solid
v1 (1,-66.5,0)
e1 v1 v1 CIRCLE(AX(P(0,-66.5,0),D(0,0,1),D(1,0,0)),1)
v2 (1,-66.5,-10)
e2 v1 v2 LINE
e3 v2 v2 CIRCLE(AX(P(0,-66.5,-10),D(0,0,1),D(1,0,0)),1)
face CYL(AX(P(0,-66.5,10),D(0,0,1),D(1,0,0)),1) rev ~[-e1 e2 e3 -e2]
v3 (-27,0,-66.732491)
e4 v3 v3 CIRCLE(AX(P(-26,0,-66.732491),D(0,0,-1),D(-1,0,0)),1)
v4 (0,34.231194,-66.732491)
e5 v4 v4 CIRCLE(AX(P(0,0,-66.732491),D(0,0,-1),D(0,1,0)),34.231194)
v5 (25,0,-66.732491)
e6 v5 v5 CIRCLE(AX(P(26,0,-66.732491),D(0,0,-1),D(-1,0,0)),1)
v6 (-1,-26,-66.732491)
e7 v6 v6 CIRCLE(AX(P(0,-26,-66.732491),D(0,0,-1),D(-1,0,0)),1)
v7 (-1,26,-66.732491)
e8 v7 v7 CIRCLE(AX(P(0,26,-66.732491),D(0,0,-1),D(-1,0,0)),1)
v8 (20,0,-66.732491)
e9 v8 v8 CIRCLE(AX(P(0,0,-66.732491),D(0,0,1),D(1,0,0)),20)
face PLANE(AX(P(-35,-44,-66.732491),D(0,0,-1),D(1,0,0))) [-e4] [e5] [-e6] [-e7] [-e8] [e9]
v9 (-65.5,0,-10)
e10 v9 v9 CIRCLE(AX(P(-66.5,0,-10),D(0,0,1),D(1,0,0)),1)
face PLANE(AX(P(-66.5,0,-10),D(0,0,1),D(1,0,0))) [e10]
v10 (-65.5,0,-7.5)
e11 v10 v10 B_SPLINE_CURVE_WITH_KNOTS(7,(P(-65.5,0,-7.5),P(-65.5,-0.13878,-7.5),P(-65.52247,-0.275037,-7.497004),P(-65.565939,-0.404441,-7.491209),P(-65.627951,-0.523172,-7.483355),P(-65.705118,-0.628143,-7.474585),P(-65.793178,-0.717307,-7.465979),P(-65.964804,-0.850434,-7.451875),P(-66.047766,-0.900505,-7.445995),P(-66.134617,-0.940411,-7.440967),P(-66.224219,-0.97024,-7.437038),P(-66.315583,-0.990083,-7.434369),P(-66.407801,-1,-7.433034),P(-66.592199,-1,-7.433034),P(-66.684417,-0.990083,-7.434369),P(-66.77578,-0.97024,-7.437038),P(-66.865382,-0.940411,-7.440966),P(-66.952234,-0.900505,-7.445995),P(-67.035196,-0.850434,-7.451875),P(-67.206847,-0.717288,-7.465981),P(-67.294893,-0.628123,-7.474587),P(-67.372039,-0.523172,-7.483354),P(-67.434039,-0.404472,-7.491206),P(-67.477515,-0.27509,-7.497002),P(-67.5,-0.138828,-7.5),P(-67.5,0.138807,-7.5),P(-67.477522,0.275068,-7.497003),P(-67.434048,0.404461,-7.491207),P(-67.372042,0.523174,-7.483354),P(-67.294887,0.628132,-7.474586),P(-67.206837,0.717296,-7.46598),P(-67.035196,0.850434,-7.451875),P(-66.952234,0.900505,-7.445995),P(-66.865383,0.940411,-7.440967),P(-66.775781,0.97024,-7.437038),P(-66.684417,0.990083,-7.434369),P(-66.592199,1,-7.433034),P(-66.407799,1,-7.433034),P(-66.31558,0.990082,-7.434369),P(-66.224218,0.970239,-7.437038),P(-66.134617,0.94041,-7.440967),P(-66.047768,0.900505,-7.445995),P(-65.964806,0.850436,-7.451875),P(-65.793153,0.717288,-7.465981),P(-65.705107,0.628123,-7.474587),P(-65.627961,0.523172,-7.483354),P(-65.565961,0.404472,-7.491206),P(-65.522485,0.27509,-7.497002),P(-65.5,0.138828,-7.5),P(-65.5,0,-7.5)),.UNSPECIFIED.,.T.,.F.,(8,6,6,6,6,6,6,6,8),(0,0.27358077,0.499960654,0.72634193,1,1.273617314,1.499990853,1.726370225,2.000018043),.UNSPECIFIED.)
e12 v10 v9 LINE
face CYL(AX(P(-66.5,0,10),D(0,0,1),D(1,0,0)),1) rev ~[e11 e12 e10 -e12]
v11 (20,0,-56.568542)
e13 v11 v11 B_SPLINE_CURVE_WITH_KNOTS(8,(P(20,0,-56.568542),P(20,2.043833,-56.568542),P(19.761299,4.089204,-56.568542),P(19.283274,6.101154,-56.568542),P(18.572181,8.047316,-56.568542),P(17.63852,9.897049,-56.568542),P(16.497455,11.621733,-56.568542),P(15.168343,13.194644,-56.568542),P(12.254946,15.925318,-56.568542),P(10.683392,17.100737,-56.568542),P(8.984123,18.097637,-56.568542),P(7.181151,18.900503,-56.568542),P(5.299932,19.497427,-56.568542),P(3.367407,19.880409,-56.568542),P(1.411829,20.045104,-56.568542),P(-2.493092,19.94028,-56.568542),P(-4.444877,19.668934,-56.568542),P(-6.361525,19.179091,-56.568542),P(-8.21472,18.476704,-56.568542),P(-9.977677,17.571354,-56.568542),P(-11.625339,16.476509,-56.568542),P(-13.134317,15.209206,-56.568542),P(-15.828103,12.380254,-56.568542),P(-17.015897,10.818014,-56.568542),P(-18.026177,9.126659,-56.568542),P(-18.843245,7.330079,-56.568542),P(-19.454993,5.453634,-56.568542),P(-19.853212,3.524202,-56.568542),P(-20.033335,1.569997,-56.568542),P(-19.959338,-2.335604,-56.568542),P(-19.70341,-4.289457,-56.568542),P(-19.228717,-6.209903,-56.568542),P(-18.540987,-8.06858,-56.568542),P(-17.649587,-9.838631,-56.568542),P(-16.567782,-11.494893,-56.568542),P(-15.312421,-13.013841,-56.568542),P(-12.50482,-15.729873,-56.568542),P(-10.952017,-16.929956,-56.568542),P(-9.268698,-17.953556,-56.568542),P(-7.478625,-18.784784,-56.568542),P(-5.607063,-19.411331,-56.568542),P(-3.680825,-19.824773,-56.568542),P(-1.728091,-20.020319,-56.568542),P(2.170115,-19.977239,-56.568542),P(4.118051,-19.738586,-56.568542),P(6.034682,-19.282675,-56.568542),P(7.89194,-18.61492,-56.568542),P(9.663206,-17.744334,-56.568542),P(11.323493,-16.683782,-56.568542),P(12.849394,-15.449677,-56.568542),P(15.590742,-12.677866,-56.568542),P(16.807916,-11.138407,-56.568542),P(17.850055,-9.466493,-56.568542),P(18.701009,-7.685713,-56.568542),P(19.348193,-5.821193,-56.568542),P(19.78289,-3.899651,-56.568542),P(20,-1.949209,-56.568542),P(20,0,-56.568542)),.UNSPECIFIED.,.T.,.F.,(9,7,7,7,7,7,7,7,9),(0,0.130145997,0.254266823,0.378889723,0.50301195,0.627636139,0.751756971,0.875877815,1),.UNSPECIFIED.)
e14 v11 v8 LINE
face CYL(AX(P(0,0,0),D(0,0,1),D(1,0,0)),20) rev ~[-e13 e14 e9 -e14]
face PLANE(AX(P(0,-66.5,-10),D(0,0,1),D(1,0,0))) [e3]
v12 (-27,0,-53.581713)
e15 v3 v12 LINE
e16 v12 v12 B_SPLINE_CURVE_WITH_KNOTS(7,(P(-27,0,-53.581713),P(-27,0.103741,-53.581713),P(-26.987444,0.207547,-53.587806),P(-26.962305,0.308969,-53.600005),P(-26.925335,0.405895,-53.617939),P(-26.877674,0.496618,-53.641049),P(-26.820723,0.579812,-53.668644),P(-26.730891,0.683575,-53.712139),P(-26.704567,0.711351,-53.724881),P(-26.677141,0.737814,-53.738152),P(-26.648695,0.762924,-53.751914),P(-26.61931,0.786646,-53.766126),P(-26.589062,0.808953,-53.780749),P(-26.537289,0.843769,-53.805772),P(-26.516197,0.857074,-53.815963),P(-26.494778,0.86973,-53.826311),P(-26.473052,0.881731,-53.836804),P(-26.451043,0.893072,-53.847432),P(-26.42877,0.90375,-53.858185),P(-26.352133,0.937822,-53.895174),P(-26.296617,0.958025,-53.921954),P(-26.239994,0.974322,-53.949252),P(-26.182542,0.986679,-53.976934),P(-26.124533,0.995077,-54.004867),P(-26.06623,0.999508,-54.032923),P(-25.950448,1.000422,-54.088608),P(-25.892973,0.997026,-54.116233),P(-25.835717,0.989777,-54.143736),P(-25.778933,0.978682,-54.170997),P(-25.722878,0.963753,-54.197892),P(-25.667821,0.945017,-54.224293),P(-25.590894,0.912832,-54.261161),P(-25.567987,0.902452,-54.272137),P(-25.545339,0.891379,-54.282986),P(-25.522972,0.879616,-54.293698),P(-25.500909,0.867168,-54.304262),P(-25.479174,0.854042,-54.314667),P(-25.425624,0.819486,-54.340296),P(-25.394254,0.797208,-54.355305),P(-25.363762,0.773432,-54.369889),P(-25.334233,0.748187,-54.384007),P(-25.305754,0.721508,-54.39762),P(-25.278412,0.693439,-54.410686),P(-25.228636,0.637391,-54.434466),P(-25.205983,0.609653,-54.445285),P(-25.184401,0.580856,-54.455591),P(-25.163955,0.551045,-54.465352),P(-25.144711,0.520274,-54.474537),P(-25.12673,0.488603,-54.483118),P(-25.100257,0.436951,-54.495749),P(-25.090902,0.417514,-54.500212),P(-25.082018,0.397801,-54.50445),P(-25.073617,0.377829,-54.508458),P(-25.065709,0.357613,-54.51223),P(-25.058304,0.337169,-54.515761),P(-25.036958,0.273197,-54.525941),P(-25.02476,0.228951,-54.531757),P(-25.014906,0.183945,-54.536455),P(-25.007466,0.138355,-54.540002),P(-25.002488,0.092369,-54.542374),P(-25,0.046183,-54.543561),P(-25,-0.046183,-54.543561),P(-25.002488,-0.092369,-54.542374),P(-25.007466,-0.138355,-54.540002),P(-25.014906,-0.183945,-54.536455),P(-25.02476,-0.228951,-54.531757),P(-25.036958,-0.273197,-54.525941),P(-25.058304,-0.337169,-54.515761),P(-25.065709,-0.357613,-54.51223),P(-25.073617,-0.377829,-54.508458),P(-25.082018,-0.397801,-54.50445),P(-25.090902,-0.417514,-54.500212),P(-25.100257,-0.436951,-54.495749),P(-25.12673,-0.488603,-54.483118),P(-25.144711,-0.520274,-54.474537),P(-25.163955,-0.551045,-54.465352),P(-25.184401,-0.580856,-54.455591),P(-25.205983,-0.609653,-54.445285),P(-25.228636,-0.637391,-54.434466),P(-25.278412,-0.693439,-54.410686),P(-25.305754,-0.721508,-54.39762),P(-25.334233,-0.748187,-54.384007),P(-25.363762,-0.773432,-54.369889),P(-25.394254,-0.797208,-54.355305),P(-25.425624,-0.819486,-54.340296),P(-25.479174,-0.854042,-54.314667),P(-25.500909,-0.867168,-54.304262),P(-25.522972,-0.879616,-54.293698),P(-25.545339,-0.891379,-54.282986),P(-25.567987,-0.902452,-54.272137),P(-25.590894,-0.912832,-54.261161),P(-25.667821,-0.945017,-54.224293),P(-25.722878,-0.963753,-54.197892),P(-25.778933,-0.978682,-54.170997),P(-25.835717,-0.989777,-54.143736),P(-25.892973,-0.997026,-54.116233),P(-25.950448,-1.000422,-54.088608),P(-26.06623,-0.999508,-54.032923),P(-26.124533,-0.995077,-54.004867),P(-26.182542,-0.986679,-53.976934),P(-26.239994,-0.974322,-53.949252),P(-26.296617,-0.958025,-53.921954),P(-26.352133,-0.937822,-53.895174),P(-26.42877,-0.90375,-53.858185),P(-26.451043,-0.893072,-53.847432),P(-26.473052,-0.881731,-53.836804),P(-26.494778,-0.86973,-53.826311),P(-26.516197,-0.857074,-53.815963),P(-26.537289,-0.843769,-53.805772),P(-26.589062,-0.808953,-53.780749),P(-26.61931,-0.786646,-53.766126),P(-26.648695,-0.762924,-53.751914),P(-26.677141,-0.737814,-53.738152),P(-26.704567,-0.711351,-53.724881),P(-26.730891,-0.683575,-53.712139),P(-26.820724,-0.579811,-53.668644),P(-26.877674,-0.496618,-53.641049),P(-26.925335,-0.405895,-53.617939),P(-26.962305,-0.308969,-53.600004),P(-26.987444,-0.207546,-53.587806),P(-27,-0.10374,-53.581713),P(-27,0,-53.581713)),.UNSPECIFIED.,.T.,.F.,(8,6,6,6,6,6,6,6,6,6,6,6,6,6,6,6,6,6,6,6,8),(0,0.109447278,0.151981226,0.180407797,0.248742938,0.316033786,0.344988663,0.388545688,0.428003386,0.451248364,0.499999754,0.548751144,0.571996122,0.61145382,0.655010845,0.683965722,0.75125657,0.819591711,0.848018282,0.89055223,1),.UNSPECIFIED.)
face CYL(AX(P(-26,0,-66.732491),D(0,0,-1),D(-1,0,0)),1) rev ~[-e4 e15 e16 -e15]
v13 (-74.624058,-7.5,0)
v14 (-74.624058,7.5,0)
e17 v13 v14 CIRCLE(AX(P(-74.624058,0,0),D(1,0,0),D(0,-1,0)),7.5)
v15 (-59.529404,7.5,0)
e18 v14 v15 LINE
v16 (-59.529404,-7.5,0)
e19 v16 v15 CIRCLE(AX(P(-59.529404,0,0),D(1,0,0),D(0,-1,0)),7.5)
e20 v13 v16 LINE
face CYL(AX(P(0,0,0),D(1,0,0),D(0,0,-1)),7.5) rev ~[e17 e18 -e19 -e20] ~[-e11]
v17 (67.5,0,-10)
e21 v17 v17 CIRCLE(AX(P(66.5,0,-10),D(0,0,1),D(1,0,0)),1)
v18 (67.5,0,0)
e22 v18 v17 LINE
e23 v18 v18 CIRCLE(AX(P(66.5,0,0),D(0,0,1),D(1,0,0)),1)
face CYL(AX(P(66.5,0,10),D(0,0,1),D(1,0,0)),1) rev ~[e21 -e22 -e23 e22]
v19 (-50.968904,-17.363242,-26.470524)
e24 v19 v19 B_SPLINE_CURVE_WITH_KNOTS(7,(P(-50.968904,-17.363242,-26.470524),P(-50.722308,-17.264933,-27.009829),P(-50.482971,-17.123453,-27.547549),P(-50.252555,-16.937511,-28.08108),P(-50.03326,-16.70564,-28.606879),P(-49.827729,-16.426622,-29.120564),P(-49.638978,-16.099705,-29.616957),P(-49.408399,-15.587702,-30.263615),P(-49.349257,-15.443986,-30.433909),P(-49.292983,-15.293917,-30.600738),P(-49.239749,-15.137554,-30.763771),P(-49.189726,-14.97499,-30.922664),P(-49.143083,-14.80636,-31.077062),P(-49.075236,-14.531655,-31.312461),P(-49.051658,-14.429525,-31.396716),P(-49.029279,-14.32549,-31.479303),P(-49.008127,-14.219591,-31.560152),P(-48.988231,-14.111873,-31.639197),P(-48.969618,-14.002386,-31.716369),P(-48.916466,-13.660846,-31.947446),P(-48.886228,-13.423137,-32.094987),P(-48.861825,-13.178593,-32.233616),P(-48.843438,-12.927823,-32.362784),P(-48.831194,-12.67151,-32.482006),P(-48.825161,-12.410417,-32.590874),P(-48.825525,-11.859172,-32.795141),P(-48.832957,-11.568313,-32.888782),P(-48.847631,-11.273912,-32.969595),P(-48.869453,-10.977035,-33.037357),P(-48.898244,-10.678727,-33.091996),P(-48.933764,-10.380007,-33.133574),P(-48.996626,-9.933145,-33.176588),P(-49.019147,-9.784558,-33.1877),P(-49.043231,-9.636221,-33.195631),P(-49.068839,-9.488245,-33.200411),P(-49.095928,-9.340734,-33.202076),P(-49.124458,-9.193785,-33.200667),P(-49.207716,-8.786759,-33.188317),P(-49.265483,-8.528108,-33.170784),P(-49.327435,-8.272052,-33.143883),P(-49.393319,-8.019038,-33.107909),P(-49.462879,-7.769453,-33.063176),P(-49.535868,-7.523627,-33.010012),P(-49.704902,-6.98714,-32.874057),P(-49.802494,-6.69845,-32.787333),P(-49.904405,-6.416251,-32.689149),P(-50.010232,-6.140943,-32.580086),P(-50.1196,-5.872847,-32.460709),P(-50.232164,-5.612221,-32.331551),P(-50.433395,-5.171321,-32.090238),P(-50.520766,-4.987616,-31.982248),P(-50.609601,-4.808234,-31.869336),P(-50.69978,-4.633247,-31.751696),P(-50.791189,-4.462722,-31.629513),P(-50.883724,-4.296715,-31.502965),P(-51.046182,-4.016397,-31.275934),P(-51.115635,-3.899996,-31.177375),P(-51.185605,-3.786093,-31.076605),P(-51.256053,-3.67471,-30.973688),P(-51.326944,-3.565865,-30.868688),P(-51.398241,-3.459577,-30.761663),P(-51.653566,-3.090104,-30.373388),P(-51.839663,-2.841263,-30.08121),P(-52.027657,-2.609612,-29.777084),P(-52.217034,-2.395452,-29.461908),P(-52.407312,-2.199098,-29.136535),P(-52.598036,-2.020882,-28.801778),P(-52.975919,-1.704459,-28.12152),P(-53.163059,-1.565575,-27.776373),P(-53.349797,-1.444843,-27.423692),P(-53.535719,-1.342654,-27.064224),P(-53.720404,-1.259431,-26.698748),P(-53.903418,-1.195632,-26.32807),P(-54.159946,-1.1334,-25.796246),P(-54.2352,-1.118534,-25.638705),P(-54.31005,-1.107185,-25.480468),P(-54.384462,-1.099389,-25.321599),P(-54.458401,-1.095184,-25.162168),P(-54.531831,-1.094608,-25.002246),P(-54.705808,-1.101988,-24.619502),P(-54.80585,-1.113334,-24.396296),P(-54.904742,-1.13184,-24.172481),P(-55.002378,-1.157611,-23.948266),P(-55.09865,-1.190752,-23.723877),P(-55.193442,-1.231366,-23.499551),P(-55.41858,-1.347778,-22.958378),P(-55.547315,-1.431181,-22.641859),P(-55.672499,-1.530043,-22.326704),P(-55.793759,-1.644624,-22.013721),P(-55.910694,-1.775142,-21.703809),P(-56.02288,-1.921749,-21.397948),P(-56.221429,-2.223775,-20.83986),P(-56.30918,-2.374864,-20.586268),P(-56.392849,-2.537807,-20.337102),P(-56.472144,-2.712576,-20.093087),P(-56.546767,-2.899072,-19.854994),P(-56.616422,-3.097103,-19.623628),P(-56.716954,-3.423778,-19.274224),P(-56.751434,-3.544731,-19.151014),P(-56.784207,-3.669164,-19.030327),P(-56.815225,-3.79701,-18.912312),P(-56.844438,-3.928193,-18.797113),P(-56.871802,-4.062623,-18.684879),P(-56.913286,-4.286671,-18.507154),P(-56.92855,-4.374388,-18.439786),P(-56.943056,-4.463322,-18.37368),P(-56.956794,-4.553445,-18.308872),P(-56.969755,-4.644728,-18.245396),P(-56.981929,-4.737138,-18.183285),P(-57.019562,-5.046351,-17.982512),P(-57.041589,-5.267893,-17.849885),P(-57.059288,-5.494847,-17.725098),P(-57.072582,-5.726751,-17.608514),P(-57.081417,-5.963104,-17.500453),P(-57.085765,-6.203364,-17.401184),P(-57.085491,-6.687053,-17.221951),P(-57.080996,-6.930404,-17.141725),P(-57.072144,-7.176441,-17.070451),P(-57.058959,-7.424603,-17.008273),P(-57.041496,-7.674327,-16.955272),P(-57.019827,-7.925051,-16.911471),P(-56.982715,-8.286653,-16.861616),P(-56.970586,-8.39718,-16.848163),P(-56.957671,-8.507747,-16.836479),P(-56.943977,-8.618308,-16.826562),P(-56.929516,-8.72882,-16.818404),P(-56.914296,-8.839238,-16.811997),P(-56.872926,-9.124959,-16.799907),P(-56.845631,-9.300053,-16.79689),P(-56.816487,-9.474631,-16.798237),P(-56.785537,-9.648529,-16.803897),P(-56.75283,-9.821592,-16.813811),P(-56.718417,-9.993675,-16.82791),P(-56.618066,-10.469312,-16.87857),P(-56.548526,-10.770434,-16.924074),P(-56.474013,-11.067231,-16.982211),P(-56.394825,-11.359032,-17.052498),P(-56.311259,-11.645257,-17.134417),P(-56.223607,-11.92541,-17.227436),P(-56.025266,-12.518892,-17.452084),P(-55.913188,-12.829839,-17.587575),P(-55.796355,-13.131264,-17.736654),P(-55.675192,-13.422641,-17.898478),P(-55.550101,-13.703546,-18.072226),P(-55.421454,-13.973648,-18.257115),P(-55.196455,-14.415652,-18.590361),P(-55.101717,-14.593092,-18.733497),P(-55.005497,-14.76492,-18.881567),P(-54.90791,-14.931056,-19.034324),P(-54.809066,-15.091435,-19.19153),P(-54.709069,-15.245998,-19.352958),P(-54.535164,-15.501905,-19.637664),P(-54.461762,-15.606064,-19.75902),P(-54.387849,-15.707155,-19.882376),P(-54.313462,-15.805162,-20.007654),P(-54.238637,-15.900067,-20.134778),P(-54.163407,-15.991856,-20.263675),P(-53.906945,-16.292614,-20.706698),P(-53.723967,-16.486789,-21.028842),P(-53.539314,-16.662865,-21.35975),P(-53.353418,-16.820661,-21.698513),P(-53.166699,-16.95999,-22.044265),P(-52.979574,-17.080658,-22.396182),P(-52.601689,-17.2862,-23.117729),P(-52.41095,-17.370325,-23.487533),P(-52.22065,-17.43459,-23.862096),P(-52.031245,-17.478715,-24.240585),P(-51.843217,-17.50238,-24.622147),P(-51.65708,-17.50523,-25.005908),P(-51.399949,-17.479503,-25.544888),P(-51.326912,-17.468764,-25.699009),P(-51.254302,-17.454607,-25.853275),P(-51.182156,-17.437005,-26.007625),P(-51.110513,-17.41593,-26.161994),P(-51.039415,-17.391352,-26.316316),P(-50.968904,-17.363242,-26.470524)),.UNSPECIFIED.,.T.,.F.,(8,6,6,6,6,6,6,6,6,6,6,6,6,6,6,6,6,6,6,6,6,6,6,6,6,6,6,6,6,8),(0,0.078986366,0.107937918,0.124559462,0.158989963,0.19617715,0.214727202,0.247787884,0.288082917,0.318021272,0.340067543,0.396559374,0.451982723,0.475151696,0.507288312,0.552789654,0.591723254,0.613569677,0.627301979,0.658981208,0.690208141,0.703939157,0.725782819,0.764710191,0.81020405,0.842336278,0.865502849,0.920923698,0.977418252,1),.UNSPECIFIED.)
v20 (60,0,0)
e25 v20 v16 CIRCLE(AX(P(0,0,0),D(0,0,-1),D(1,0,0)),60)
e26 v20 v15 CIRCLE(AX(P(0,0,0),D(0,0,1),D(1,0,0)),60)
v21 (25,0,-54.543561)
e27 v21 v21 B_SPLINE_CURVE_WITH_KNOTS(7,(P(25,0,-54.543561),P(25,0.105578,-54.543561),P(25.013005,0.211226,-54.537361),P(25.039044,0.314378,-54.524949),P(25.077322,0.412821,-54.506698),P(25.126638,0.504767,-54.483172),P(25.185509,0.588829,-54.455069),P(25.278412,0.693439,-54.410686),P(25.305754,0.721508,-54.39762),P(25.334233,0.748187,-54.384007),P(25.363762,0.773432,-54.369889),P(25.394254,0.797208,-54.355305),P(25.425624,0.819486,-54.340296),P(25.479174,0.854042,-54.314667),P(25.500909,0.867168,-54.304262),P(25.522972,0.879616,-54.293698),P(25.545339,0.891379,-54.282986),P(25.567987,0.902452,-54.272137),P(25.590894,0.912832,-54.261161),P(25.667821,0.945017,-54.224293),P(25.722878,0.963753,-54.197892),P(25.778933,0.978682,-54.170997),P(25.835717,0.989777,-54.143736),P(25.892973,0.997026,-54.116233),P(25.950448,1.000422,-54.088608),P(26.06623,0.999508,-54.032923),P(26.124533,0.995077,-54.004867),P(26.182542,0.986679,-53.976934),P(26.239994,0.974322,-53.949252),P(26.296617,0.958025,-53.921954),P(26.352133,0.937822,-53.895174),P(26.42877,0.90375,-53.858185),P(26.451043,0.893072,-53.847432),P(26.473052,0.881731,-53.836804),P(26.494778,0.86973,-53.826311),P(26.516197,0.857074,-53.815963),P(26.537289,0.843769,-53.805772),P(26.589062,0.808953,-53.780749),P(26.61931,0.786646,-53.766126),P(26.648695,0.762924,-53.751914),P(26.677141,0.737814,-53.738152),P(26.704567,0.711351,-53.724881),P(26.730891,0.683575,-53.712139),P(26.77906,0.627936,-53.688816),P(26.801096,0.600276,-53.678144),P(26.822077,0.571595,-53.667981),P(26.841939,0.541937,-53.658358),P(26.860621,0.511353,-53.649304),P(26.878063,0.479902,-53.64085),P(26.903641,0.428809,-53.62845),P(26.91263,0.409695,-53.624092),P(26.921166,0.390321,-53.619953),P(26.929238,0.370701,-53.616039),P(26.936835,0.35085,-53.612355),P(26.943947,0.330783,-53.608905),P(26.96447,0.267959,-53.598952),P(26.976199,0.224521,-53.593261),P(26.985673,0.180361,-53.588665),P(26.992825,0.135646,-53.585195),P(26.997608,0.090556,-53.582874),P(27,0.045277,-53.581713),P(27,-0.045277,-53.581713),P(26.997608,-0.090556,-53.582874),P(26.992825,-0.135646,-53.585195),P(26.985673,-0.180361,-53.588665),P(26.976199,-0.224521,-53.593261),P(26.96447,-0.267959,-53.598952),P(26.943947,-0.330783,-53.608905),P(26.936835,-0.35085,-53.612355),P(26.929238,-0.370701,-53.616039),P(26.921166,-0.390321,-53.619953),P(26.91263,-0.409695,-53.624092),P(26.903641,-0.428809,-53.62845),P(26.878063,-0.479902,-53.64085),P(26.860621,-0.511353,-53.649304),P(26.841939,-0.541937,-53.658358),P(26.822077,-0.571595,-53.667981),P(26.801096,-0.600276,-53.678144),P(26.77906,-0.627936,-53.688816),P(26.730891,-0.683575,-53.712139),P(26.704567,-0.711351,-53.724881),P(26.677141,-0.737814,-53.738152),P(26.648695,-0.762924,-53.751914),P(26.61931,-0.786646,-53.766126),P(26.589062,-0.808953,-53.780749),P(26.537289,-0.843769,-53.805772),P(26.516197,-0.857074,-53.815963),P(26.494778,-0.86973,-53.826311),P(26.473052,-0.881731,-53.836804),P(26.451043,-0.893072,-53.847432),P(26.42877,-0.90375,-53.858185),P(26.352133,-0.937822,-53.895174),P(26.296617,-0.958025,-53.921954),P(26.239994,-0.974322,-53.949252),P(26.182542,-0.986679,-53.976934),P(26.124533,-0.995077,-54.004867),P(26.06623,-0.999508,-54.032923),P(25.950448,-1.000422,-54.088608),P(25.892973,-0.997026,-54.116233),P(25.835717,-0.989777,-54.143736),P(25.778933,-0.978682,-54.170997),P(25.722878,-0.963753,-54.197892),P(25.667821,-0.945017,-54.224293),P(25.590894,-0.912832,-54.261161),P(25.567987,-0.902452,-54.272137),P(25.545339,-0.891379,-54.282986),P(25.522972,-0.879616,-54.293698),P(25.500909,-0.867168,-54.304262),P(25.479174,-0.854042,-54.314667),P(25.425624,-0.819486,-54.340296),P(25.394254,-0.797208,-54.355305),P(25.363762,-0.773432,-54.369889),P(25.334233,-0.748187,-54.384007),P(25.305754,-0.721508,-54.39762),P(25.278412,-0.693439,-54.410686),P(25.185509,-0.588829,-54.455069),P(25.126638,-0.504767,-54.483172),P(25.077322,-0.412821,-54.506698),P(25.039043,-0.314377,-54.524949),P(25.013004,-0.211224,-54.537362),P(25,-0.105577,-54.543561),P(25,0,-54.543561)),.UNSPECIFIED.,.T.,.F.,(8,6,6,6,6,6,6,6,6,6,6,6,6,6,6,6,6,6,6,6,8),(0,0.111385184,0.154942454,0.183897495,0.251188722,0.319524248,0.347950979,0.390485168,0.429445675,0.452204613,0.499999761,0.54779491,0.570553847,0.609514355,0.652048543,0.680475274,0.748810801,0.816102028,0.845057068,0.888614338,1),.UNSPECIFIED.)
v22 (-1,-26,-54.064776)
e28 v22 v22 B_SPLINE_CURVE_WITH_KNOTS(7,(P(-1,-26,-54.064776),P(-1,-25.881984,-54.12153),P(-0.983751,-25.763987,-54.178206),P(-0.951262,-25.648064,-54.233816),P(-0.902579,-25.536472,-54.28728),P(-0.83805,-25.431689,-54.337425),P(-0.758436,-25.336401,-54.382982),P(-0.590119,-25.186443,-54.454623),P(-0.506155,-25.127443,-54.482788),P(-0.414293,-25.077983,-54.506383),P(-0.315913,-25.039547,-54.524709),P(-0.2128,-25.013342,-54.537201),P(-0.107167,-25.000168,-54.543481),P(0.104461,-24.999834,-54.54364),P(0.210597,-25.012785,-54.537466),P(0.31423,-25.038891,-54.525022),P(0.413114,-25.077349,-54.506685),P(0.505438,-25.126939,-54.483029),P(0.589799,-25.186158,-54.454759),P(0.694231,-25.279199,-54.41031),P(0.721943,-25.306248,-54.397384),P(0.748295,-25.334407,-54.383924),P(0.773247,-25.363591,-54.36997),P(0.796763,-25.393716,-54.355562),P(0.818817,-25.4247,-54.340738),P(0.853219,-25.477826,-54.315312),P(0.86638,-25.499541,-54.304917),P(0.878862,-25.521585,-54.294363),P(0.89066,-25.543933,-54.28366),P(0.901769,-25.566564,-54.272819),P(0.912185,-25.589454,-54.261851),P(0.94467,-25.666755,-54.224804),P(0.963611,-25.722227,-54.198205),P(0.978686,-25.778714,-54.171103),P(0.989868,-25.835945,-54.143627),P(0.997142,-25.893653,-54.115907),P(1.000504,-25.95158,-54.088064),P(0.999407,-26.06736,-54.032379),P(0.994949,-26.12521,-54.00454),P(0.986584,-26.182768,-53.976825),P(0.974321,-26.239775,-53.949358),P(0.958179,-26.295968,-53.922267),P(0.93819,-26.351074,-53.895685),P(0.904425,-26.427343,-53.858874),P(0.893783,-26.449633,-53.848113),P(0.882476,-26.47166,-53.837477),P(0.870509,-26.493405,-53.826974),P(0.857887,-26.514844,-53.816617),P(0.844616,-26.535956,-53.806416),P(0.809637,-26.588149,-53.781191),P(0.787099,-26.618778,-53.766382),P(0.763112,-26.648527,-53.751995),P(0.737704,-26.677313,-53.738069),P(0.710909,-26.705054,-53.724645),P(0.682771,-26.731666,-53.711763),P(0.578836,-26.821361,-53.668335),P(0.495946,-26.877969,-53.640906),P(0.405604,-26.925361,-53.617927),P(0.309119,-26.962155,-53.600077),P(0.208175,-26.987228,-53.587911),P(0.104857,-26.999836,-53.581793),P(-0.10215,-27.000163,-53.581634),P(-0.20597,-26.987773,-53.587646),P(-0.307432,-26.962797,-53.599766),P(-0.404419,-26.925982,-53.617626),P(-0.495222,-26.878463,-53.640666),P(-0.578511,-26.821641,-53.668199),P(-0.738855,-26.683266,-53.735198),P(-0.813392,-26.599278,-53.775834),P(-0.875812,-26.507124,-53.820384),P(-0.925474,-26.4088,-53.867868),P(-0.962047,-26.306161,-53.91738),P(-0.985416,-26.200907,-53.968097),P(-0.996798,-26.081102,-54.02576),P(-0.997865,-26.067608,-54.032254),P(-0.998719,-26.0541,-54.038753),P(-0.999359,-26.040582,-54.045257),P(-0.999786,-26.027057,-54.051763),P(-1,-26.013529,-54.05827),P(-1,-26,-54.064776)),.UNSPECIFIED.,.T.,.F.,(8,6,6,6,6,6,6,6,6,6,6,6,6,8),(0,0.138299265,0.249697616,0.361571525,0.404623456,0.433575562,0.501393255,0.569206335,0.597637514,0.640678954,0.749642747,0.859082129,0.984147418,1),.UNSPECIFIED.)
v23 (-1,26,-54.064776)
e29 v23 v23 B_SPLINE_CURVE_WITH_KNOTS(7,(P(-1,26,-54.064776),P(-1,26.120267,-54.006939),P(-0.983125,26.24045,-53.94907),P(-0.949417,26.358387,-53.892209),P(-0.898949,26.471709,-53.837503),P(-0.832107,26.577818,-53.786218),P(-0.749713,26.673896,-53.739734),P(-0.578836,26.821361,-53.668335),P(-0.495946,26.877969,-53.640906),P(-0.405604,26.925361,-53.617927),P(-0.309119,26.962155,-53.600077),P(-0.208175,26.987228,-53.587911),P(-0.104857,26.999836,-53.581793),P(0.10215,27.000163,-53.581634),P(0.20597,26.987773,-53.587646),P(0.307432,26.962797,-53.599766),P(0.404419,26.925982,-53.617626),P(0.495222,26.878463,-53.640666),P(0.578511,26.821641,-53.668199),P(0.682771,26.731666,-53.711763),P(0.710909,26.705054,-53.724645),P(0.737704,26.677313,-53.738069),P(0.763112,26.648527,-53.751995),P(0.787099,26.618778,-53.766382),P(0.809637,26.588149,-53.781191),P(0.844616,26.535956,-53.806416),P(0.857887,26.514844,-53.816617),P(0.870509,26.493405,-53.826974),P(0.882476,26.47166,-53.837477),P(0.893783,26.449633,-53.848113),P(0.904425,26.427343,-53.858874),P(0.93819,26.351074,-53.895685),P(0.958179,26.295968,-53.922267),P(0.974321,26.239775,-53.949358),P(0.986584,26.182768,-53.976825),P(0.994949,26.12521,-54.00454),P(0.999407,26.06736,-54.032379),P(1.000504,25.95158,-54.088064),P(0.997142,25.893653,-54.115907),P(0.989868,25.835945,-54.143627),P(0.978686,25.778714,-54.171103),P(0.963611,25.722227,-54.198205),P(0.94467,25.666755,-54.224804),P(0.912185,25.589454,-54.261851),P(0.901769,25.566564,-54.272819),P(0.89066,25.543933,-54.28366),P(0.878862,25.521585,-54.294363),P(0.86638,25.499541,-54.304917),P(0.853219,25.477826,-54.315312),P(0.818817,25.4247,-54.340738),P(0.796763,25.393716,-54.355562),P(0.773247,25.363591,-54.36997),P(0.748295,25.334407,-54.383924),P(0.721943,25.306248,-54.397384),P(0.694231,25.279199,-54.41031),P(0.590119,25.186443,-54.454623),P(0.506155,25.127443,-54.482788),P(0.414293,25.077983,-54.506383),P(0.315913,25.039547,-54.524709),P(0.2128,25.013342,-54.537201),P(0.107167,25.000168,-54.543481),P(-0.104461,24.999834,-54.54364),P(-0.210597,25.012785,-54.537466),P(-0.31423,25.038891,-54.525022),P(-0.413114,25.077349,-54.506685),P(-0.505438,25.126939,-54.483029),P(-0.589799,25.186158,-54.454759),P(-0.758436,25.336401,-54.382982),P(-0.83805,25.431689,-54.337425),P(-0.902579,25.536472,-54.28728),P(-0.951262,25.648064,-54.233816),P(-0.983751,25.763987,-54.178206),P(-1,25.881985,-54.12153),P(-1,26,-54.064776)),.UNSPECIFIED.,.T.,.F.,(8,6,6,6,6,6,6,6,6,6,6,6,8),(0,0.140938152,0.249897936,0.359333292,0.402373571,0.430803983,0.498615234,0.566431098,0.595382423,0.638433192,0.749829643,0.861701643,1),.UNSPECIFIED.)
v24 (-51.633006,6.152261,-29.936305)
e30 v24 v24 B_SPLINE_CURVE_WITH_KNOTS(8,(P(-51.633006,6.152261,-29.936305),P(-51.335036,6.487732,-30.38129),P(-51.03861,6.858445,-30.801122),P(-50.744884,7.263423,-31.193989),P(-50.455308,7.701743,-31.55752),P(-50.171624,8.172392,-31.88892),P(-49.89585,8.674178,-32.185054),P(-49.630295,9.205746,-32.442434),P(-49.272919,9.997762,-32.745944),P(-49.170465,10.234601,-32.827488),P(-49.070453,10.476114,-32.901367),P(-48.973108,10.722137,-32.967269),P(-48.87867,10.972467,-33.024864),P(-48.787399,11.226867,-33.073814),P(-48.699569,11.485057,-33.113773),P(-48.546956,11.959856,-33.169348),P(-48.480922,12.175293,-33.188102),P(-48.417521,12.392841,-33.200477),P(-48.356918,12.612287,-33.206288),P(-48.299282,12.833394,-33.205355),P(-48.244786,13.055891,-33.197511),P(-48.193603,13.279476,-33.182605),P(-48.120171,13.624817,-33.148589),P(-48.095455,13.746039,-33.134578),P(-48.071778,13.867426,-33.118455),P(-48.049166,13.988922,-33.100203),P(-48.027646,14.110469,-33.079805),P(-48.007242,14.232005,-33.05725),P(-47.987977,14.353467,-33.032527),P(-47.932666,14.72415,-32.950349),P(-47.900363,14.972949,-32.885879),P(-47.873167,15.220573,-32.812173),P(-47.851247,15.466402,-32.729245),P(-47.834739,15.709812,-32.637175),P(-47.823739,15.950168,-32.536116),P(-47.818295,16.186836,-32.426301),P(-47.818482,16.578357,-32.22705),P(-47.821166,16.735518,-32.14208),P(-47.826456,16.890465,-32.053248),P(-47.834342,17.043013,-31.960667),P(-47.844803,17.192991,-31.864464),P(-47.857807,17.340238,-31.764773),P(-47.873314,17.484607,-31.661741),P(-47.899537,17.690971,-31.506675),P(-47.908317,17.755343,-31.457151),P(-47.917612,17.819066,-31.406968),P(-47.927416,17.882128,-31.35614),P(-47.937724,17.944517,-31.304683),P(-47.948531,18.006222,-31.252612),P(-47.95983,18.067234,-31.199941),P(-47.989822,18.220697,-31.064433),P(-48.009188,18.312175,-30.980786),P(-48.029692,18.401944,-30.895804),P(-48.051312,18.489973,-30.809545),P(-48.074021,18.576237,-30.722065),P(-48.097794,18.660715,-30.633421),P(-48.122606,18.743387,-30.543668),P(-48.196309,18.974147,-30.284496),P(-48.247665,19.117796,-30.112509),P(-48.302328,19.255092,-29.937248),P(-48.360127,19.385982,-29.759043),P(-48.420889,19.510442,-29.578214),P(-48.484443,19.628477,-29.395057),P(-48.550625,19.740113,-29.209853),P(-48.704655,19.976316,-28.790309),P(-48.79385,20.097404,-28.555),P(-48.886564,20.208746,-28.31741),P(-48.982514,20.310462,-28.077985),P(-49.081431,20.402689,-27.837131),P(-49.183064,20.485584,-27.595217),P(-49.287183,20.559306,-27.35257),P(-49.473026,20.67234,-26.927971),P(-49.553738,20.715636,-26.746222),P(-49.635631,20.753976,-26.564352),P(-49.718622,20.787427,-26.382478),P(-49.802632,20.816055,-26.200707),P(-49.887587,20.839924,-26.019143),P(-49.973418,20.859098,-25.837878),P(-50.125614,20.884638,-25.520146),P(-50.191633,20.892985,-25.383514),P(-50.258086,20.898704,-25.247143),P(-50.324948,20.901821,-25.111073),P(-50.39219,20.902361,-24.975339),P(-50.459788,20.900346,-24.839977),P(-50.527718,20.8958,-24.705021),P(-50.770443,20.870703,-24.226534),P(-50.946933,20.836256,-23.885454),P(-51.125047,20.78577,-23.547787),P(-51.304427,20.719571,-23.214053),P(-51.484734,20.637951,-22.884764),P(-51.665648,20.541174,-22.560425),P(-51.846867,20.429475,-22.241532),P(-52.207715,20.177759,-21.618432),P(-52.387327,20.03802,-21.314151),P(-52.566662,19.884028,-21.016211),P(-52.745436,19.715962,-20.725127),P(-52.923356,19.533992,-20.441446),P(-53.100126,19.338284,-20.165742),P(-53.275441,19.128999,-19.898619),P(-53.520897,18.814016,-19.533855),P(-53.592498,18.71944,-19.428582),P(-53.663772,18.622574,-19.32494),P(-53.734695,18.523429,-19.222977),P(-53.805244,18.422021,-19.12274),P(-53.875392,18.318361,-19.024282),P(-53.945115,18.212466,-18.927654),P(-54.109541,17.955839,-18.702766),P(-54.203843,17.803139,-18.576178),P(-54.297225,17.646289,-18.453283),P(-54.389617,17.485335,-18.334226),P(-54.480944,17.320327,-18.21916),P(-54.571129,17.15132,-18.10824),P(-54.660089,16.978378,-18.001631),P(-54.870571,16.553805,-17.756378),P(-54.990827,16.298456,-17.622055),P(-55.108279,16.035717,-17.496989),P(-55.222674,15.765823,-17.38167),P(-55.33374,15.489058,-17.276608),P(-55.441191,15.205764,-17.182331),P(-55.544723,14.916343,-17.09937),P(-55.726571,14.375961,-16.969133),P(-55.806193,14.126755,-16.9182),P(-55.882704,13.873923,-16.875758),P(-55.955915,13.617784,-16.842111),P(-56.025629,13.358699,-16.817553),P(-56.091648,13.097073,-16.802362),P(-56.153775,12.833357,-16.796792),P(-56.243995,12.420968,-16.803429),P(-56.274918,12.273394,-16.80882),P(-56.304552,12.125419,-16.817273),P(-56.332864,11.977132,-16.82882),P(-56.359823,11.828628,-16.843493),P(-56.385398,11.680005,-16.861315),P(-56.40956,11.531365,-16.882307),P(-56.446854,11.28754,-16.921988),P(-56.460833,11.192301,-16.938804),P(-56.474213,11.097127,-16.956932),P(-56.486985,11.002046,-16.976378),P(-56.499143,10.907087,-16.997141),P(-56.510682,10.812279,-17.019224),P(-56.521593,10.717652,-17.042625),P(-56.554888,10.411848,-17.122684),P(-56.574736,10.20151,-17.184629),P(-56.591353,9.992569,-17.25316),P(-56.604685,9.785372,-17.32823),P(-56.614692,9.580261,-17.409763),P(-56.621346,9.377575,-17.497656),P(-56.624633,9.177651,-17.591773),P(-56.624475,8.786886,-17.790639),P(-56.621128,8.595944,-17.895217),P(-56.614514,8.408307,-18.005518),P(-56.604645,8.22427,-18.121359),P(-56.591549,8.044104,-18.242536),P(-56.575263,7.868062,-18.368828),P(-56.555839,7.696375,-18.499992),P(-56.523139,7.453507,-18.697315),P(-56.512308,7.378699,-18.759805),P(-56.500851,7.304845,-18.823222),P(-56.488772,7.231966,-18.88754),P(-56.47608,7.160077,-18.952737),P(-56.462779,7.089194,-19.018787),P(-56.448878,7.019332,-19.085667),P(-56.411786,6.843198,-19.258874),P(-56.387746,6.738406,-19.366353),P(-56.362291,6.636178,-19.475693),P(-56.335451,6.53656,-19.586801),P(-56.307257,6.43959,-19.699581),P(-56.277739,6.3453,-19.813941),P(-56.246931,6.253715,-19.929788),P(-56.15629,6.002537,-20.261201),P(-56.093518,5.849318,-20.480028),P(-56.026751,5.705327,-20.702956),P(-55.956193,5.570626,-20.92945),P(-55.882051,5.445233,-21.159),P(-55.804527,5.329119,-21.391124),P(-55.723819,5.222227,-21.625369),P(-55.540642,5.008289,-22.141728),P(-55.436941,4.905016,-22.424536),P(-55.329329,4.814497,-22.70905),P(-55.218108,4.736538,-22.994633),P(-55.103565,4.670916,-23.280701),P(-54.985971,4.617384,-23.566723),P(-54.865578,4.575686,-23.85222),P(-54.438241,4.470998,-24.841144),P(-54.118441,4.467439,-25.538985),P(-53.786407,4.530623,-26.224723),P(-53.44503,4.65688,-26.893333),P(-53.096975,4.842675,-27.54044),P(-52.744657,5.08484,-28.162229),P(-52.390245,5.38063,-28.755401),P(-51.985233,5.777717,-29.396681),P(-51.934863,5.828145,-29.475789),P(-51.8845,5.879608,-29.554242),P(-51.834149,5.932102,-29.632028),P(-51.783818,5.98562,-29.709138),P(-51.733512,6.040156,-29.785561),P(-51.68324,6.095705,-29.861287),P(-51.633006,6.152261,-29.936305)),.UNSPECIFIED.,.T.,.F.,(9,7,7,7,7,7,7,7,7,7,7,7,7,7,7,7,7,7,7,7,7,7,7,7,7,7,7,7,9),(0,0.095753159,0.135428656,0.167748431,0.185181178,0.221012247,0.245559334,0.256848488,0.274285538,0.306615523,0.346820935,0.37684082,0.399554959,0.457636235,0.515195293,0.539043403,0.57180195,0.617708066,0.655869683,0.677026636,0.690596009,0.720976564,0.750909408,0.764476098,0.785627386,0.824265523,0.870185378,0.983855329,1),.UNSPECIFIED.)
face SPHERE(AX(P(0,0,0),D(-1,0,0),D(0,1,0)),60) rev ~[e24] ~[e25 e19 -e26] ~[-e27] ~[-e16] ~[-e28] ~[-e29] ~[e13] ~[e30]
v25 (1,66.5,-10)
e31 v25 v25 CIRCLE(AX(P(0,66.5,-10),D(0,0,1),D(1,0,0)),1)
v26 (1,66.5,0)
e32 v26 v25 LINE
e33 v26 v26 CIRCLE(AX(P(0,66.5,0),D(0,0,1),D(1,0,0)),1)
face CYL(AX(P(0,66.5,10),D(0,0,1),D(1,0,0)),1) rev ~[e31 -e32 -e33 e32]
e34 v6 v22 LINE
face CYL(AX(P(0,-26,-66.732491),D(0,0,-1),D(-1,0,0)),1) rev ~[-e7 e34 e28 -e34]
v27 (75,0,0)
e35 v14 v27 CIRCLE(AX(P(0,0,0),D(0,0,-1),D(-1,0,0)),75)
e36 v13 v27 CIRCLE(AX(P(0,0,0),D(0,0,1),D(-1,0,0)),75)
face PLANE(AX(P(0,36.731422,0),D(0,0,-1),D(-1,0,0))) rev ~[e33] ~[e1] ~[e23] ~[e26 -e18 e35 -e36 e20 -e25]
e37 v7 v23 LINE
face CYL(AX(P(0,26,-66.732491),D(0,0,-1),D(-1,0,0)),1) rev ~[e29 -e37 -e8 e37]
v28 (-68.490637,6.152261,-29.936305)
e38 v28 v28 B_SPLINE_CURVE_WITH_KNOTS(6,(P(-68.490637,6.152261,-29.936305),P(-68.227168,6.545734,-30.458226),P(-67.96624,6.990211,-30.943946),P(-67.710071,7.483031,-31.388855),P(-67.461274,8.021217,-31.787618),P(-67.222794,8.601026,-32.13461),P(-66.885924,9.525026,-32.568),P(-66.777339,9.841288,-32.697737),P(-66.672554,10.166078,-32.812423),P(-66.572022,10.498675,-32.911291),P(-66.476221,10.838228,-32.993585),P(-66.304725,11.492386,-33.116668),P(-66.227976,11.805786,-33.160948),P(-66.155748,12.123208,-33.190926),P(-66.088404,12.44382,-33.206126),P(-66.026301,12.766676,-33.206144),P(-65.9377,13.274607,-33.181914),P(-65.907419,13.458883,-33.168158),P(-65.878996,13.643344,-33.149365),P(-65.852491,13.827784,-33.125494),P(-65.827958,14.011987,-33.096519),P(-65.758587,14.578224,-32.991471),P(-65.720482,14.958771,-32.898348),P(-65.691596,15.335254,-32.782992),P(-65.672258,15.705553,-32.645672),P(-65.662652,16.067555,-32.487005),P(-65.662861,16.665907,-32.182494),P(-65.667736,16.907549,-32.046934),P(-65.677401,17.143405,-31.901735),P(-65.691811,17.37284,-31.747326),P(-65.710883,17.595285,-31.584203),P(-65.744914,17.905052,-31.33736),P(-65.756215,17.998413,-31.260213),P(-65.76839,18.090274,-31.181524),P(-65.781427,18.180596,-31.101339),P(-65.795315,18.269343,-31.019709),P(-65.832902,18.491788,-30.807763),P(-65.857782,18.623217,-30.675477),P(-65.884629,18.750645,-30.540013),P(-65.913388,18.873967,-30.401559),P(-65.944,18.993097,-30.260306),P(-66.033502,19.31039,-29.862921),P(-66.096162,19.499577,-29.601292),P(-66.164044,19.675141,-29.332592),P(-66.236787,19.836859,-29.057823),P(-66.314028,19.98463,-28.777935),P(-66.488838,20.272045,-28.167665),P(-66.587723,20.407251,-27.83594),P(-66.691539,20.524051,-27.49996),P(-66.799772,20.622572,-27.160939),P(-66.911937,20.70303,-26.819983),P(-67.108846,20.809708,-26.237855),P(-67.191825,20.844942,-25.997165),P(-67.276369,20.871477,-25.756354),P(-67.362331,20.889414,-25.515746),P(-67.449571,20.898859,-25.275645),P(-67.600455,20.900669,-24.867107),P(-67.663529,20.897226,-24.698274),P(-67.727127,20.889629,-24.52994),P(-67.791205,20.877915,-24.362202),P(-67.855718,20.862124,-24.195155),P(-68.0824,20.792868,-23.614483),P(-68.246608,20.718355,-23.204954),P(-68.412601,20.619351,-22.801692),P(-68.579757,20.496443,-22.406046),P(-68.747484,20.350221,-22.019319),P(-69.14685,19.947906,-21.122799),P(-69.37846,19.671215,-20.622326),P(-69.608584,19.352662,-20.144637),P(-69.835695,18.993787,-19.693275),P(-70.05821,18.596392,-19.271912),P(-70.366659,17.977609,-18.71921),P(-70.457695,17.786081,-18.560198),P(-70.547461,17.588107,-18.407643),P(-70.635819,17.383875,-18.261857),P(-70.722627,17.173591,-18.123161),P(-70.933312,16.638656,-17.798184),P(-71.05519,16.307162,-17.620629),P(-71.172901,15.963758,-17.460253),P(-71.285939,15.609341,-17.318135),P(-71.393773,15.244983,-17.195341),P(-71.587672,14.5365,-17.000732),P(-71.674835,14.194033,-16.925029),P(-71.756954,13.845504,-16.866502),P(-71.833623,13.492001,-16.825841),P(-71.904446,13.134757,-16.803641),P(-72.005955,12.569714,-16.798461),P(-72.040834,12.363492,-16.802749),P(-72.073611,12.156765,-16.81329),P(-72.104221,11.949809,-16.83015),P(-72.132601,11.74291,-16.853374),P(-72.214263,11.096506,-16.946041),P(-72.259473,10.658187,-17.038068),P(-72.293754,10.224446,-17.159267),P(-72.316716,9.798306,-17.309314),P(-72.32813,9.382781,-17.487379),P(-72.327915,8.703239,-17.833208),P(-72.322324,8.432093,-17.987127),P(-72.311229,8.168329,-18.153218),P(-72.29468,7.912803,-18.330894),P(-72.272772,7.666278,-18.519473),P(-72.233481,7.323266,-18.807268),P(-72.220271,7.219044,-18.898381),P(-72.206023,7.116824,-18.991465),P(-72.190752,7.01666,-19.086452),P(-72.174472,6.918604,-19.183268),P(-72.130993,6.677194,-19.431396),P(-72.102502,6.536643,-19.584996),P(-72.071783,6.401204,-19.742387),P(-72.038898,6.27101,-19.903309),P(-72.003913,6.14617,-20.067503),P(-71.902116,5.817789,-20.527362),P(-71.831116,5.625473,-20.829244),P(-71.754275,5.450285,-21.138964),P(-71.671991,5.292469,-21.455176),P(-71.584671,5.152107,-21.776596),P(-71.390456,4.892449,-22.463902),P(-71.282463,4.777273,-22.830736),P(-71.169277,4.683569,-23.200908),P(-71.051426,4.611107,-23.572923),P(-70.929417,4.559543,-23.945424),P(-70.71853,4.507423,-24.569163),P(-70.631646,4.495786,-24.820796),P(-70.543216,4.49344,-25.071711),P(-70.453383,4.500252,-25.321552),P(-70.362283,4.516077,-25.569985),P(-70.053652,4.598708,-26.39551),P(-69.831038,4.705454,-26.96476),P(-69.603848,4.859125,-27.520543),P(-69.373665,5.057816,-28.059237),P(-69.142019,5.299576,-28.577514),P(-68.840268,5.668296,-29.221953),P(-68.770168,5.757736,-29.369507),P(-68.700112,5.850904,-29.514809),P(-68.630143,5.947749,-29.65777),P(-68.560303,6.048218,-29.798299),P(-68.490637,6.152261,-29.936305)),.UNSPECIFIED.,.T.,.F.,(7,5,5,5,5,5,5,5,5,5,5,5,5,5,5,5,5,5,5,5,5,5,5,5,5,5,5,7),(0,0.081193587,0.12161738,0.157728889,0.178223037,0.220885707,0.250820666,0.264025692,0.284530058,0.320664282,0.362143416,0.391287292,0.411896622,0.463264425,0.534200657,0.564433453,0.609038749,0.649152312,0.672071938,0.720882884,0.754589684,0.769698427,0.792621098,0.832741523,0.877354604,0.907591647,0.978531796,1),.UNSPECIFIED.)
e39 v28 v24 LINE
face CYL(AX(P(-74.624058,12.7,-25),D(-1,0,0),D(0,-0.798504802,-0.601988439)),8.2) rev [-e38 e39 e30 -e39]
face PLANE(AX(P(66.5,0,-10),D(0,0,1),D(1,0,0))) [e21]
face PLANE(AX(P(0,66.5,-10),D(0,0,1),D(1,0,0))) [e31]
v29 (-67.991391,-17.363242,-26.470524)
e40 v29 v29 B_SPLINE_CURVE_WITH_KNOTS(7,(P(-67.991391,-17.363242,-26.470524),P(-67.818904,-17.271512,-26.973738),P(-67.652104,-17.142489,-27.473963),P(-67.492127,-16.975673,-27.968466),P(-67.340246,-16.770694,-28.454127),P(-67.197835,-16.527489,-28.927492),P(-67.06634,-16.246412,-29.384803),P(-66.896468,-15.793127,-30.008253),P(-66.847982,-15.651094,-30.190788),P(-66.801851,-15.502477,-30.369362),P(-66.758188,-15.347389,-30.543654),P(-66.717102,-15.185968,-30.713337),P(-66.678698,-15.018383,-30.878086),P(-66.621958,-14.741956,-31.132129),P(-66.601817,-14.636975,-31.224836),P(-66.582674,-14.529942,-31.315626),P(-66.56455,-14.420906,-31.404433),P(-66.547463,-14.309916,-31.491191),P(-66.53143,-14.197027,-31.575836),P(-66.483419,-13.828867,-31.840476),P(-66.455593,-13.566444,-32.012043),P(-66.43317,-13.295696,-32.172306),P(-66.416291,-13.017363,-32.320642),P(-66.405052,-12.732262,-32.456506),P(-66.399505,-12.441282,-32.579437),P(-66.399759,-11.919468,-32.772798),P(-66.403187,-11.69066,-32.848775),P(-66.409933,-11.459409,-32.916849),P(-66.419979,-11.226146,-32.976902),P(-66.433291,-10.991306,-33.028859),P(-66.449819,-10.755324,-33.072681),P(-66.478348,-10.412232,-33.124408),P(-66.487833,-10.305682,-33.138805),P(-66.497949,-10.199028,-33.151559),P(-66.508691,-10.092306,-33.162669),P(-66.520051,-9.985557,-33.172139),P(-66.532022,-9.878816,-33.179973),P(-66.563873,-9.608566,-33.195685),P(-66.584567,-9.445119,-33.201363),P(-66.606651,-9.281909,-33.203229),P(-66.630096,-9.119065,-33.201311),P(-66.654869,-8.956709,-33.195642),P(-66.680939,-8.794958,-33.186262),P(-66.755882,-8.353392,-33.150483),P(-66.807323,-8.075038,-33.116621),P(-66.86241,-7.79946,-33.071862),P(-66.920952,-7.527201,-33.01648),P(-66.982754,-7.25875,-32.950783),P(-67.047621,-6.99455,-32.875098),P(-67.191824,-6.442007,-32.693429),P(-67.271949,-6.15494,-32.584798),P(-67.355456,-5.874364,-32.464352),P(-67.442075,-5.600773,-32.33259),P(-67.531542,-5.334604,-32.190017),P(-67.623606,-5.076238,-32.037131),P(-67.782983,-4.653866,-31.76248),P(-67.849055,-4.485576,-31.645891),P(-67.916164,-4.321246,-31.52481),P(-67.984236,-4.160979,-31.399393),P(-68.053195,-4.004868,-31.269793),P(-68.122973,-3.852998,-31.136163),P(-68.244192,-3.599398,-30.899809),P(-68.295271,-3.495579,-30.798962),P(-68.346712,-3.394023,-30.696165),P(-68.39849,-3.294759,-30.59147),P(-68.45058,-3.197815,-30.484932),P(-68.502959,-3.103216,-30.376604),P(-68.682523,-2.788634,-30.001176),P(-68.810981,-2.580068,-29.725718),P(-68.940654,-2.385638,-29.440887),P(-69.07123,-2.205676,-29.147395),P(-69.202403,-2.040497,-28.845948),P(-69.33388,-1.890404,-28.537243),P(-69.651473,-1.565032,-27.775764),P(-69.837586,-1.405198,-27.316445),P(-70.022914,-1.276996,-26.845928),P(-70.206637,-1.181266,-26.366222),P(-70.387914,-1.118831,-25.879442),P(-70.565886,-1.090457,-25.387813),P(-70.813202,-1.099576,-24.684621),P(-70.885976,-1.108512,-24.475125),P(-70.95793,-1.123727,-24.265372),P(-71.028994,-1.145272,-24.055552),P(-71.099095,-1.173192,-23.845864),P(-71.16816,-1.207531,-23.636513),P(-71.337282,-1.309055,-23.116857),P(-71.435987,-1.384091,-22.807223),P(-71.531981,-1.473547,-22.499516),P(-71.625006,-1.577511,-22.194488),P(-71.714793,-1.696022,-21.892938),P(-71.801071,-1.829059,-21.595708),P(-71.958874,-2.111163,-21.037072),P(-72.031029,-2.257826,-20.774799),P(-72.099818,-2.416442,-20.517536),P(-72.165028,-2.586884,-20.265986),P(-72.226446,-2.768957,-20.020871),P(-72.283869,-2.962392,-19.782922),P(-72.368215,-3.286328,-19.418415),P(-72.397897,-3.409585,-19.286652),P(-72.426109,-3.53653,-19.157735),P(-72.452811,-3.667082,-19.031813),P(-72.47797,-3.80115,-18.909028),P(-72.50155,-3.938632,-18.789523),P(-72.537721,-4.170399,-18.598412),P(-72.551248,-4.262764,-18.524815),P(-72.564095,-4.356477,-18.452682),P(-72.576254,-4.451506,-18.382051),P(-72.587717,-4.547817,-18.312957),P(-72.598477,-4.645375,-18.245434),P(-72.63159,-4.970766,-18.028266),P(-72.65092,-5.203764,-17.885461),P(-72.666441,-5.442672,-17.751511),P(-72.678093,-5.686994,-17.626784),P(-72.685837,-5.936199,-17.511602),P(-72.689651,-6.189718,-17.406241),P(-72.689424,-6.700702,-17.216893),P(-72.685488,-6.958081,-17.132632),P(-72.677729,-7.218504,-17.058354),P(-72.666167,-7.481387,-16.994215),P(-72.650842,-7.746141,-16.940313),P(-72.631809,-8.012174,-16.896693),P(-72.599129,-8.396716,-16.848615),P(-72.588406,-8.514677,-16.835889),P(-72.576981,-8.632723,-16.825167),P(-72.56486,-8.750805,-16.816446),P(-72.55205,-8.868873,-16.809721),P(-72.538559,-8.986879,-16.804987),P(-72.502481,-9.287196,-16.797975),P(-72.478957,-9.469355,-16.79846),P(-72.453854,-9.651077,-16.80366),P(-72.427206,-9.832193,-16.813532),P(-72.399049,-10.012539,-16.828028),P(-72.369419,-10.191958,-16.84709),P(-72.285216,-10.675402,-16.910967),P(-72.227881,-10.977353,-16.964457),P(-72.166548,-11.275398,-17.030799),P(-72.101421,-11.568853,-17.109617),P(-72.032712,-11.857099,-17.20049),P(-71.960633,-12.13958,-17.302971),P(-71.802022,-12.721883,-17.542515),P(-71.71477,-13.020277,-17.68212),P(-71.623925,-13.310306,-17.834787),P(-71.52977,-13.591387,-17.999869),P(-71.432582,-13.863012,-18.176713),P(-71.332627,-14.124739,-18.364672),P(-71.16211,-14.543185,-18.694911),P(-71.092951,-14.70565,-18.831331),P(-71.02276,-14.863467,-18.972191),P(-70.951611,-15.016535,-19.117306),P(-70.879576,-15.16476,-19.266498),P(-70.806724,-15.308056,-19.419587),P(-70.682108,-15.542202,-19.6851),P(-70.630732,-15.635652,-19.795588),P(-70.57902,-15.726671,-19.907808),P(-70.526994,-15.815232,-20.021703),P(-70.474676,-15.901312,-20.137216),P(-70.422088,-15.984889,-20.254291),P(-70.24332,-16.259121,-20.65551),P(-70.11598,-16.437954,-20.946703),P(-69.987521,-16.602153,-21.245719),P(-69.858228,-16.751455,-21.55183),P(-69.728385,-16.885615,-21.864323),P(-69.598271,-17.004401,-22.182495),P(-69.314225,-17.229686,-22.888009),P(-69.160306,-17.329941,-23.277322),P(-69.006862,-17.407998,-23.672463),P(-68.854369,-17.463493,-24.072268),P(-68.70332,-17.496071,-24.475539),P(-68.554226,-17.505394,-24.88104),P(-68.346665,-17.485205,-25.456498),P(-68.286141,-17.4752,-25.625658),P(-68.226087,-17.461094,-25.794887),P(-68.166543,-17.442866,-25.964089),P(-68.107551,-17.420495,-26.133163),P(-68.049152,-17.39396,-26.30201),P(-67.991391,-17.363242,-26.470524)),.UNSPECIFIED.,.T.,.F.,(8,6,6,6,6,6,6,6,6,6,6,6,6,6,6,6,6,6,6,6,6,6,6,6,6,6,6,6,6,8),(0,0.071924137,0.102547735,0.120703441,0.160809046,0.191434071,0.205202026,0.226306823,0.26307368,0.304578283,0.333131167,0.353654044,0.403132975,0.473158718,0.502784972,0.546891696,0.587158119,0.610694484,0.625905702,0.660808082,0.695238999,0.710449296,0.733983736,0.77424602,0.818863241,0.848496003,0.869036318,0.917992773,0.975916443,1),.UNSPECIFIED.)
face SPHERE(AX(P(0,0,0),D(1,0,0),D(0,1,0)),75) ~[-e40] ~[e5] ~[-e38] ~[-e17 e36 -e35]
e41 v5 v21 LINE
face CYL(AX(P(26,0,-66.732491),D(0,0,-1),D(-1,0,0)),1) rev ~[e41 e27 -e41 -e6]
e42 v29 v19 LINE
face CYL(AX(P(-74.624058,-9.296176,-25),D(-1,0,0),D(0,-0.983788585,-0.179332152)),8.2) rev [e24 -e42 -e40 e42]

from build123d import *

# Parameters (mm, degrees)
REVOLU_O1_ANGLE            = 180
ESBO_O6_R                  = 20
CORTE_EXTRUS_O3_DEPTH      = 130.903810568
ESBO_O7_R                  = 7.5
CORTE_EXTRUS_O4_DEPTH      = 129.354976586
CORTE_EXTRUS_O5_DEPTH      = 50
CORTE_EXTRUS_O5_DEPTH_BACK = 44
ESBO_O8_W                  = 70
ESBO_O8_H                  = 12.551087697
ESBO_O9_R                  = 1
CORTE_EXTRUS_O6_DEPTH      = 126.312510747
SKETCH2_R                  = 8.2
CUT_EXTRUDE3_DEPTH         = 30
SKETCH4_R                  = 1
CUT_EXTRUDE4_DEPTH         = 20


with BuildPart() as part:
    # Esboço1 → Revolução1 (revolve)
    with BuildSketch(Plane.XY):
        with BuildLine():
            Line((-60, 0), (-75, 0))
            ThreePointArc((-75, 0), (0, 75), (75, 0))
            Line((75, 0), (60, 0))
            ThreePointArc((60, 0), (0, 60), (-60, 0))
        make_face()
    revolve(axis=Axis((-60, 0, 0), (-1, 0, 0)), revolution_arc=REVOLU_O1_ANGLE)

    # Esboço6 → Corte-extrusão3 (cut, through all)
    with BuildSketch(Plane.XY):
        Circle(ESBO_O6_R)
    extrude(amount=-CORTE_EXTRUS_O3_DEPTH, mode=Mode.SUBTRACT)

    # Esboço7 → Corte-extrusão4 (cut, through all)
    with BuildSketch(Plane(origin=(0, 0, 0), x_dir=(0, 0, -1), z_dir=(1, 0, 0))):
        Circle(ESBO_O7_R)
    extrude(amount=-CORTE_EXTRUS_O4_DEPTH, mode=Mode.SUBTRACT)

    # Esboço8 → Corte-extrusão5 (cut, two sides: drawn at the far end of the back side and taken through both)
    with BuildSketch(Plane(origin=(0, 0, 0), x_dir=(1, 0, 0), z_dir=(0, 1, 0)).offset(-CORTE_EXTRUS_O5_DEPTH_BACK)):
        with Locations((0, 73.008034748)):
            Rectangle(ESBO_O8_W, ESBO_O8_H)
    extrude(amount=CORTE_EXTRUS_O5_DEPTH + CORTE_EXTRUS_O5_DEPTH_BACK, mode=Mode.SUBTRACT)

    # Esboço9 → Corte-extrusão6 (cut, through all)
    with BuildSketch(Plane(origin=(0, 0, -66.7324909), x_dir=(-1, 0, 0), z_dir=(0, 0, -1))):
        with Locations((-26, 0)):
            Circle(ESBO_O9_R)
        with Locations((0, 26)):
            Circle(ESBO_O9_R)
        with Locations((26, 0)):
            Circle(ESBO_O9_R)
        with Locations((0, -26)):
            Circle(ESBO_O9_R)
    extrude(amount=-CORTE_EXTRUS_O6_DEPTH, mode=Mode.SUBTRACT)

    # Sketch2 → Cut-Extrude3 (cut)
    with BuildSketch(Plane(origin=(-74.624057783, 0, 0), x_dir=(0, 0, -1), z_dir=(1, 0, 0))):
        with Locations((25, -9.296175558)):
            Circle(SKETCH2_R)
        with Locations((25, 12.7)):
            Circle(SKETCH2_R)
    extrude(amount=CUT_EXTRUDE3_DEPTH, mode=Mode.SUBTRACT)

    # Sketch4 → Cut-Extrude4 (cut)
    with BuildSketch(Plane.XY.offset(10)):
        with Locations((66.5, 0)):
            Circle(SKETCH4_R)
        with Locations((0, -66.5)):
            Circle(SKETCH4_R)
        with Locations((-66.5, 0)):
            Circle(SKETCH4_R)
        with Locations((0, 66.5)):
            Circle(SKETCH4_R)
    extrude(amount=-CUT_EXTRUDE4_DEPTH, mode=Mode.SUBTRACT)


solid = part.part
